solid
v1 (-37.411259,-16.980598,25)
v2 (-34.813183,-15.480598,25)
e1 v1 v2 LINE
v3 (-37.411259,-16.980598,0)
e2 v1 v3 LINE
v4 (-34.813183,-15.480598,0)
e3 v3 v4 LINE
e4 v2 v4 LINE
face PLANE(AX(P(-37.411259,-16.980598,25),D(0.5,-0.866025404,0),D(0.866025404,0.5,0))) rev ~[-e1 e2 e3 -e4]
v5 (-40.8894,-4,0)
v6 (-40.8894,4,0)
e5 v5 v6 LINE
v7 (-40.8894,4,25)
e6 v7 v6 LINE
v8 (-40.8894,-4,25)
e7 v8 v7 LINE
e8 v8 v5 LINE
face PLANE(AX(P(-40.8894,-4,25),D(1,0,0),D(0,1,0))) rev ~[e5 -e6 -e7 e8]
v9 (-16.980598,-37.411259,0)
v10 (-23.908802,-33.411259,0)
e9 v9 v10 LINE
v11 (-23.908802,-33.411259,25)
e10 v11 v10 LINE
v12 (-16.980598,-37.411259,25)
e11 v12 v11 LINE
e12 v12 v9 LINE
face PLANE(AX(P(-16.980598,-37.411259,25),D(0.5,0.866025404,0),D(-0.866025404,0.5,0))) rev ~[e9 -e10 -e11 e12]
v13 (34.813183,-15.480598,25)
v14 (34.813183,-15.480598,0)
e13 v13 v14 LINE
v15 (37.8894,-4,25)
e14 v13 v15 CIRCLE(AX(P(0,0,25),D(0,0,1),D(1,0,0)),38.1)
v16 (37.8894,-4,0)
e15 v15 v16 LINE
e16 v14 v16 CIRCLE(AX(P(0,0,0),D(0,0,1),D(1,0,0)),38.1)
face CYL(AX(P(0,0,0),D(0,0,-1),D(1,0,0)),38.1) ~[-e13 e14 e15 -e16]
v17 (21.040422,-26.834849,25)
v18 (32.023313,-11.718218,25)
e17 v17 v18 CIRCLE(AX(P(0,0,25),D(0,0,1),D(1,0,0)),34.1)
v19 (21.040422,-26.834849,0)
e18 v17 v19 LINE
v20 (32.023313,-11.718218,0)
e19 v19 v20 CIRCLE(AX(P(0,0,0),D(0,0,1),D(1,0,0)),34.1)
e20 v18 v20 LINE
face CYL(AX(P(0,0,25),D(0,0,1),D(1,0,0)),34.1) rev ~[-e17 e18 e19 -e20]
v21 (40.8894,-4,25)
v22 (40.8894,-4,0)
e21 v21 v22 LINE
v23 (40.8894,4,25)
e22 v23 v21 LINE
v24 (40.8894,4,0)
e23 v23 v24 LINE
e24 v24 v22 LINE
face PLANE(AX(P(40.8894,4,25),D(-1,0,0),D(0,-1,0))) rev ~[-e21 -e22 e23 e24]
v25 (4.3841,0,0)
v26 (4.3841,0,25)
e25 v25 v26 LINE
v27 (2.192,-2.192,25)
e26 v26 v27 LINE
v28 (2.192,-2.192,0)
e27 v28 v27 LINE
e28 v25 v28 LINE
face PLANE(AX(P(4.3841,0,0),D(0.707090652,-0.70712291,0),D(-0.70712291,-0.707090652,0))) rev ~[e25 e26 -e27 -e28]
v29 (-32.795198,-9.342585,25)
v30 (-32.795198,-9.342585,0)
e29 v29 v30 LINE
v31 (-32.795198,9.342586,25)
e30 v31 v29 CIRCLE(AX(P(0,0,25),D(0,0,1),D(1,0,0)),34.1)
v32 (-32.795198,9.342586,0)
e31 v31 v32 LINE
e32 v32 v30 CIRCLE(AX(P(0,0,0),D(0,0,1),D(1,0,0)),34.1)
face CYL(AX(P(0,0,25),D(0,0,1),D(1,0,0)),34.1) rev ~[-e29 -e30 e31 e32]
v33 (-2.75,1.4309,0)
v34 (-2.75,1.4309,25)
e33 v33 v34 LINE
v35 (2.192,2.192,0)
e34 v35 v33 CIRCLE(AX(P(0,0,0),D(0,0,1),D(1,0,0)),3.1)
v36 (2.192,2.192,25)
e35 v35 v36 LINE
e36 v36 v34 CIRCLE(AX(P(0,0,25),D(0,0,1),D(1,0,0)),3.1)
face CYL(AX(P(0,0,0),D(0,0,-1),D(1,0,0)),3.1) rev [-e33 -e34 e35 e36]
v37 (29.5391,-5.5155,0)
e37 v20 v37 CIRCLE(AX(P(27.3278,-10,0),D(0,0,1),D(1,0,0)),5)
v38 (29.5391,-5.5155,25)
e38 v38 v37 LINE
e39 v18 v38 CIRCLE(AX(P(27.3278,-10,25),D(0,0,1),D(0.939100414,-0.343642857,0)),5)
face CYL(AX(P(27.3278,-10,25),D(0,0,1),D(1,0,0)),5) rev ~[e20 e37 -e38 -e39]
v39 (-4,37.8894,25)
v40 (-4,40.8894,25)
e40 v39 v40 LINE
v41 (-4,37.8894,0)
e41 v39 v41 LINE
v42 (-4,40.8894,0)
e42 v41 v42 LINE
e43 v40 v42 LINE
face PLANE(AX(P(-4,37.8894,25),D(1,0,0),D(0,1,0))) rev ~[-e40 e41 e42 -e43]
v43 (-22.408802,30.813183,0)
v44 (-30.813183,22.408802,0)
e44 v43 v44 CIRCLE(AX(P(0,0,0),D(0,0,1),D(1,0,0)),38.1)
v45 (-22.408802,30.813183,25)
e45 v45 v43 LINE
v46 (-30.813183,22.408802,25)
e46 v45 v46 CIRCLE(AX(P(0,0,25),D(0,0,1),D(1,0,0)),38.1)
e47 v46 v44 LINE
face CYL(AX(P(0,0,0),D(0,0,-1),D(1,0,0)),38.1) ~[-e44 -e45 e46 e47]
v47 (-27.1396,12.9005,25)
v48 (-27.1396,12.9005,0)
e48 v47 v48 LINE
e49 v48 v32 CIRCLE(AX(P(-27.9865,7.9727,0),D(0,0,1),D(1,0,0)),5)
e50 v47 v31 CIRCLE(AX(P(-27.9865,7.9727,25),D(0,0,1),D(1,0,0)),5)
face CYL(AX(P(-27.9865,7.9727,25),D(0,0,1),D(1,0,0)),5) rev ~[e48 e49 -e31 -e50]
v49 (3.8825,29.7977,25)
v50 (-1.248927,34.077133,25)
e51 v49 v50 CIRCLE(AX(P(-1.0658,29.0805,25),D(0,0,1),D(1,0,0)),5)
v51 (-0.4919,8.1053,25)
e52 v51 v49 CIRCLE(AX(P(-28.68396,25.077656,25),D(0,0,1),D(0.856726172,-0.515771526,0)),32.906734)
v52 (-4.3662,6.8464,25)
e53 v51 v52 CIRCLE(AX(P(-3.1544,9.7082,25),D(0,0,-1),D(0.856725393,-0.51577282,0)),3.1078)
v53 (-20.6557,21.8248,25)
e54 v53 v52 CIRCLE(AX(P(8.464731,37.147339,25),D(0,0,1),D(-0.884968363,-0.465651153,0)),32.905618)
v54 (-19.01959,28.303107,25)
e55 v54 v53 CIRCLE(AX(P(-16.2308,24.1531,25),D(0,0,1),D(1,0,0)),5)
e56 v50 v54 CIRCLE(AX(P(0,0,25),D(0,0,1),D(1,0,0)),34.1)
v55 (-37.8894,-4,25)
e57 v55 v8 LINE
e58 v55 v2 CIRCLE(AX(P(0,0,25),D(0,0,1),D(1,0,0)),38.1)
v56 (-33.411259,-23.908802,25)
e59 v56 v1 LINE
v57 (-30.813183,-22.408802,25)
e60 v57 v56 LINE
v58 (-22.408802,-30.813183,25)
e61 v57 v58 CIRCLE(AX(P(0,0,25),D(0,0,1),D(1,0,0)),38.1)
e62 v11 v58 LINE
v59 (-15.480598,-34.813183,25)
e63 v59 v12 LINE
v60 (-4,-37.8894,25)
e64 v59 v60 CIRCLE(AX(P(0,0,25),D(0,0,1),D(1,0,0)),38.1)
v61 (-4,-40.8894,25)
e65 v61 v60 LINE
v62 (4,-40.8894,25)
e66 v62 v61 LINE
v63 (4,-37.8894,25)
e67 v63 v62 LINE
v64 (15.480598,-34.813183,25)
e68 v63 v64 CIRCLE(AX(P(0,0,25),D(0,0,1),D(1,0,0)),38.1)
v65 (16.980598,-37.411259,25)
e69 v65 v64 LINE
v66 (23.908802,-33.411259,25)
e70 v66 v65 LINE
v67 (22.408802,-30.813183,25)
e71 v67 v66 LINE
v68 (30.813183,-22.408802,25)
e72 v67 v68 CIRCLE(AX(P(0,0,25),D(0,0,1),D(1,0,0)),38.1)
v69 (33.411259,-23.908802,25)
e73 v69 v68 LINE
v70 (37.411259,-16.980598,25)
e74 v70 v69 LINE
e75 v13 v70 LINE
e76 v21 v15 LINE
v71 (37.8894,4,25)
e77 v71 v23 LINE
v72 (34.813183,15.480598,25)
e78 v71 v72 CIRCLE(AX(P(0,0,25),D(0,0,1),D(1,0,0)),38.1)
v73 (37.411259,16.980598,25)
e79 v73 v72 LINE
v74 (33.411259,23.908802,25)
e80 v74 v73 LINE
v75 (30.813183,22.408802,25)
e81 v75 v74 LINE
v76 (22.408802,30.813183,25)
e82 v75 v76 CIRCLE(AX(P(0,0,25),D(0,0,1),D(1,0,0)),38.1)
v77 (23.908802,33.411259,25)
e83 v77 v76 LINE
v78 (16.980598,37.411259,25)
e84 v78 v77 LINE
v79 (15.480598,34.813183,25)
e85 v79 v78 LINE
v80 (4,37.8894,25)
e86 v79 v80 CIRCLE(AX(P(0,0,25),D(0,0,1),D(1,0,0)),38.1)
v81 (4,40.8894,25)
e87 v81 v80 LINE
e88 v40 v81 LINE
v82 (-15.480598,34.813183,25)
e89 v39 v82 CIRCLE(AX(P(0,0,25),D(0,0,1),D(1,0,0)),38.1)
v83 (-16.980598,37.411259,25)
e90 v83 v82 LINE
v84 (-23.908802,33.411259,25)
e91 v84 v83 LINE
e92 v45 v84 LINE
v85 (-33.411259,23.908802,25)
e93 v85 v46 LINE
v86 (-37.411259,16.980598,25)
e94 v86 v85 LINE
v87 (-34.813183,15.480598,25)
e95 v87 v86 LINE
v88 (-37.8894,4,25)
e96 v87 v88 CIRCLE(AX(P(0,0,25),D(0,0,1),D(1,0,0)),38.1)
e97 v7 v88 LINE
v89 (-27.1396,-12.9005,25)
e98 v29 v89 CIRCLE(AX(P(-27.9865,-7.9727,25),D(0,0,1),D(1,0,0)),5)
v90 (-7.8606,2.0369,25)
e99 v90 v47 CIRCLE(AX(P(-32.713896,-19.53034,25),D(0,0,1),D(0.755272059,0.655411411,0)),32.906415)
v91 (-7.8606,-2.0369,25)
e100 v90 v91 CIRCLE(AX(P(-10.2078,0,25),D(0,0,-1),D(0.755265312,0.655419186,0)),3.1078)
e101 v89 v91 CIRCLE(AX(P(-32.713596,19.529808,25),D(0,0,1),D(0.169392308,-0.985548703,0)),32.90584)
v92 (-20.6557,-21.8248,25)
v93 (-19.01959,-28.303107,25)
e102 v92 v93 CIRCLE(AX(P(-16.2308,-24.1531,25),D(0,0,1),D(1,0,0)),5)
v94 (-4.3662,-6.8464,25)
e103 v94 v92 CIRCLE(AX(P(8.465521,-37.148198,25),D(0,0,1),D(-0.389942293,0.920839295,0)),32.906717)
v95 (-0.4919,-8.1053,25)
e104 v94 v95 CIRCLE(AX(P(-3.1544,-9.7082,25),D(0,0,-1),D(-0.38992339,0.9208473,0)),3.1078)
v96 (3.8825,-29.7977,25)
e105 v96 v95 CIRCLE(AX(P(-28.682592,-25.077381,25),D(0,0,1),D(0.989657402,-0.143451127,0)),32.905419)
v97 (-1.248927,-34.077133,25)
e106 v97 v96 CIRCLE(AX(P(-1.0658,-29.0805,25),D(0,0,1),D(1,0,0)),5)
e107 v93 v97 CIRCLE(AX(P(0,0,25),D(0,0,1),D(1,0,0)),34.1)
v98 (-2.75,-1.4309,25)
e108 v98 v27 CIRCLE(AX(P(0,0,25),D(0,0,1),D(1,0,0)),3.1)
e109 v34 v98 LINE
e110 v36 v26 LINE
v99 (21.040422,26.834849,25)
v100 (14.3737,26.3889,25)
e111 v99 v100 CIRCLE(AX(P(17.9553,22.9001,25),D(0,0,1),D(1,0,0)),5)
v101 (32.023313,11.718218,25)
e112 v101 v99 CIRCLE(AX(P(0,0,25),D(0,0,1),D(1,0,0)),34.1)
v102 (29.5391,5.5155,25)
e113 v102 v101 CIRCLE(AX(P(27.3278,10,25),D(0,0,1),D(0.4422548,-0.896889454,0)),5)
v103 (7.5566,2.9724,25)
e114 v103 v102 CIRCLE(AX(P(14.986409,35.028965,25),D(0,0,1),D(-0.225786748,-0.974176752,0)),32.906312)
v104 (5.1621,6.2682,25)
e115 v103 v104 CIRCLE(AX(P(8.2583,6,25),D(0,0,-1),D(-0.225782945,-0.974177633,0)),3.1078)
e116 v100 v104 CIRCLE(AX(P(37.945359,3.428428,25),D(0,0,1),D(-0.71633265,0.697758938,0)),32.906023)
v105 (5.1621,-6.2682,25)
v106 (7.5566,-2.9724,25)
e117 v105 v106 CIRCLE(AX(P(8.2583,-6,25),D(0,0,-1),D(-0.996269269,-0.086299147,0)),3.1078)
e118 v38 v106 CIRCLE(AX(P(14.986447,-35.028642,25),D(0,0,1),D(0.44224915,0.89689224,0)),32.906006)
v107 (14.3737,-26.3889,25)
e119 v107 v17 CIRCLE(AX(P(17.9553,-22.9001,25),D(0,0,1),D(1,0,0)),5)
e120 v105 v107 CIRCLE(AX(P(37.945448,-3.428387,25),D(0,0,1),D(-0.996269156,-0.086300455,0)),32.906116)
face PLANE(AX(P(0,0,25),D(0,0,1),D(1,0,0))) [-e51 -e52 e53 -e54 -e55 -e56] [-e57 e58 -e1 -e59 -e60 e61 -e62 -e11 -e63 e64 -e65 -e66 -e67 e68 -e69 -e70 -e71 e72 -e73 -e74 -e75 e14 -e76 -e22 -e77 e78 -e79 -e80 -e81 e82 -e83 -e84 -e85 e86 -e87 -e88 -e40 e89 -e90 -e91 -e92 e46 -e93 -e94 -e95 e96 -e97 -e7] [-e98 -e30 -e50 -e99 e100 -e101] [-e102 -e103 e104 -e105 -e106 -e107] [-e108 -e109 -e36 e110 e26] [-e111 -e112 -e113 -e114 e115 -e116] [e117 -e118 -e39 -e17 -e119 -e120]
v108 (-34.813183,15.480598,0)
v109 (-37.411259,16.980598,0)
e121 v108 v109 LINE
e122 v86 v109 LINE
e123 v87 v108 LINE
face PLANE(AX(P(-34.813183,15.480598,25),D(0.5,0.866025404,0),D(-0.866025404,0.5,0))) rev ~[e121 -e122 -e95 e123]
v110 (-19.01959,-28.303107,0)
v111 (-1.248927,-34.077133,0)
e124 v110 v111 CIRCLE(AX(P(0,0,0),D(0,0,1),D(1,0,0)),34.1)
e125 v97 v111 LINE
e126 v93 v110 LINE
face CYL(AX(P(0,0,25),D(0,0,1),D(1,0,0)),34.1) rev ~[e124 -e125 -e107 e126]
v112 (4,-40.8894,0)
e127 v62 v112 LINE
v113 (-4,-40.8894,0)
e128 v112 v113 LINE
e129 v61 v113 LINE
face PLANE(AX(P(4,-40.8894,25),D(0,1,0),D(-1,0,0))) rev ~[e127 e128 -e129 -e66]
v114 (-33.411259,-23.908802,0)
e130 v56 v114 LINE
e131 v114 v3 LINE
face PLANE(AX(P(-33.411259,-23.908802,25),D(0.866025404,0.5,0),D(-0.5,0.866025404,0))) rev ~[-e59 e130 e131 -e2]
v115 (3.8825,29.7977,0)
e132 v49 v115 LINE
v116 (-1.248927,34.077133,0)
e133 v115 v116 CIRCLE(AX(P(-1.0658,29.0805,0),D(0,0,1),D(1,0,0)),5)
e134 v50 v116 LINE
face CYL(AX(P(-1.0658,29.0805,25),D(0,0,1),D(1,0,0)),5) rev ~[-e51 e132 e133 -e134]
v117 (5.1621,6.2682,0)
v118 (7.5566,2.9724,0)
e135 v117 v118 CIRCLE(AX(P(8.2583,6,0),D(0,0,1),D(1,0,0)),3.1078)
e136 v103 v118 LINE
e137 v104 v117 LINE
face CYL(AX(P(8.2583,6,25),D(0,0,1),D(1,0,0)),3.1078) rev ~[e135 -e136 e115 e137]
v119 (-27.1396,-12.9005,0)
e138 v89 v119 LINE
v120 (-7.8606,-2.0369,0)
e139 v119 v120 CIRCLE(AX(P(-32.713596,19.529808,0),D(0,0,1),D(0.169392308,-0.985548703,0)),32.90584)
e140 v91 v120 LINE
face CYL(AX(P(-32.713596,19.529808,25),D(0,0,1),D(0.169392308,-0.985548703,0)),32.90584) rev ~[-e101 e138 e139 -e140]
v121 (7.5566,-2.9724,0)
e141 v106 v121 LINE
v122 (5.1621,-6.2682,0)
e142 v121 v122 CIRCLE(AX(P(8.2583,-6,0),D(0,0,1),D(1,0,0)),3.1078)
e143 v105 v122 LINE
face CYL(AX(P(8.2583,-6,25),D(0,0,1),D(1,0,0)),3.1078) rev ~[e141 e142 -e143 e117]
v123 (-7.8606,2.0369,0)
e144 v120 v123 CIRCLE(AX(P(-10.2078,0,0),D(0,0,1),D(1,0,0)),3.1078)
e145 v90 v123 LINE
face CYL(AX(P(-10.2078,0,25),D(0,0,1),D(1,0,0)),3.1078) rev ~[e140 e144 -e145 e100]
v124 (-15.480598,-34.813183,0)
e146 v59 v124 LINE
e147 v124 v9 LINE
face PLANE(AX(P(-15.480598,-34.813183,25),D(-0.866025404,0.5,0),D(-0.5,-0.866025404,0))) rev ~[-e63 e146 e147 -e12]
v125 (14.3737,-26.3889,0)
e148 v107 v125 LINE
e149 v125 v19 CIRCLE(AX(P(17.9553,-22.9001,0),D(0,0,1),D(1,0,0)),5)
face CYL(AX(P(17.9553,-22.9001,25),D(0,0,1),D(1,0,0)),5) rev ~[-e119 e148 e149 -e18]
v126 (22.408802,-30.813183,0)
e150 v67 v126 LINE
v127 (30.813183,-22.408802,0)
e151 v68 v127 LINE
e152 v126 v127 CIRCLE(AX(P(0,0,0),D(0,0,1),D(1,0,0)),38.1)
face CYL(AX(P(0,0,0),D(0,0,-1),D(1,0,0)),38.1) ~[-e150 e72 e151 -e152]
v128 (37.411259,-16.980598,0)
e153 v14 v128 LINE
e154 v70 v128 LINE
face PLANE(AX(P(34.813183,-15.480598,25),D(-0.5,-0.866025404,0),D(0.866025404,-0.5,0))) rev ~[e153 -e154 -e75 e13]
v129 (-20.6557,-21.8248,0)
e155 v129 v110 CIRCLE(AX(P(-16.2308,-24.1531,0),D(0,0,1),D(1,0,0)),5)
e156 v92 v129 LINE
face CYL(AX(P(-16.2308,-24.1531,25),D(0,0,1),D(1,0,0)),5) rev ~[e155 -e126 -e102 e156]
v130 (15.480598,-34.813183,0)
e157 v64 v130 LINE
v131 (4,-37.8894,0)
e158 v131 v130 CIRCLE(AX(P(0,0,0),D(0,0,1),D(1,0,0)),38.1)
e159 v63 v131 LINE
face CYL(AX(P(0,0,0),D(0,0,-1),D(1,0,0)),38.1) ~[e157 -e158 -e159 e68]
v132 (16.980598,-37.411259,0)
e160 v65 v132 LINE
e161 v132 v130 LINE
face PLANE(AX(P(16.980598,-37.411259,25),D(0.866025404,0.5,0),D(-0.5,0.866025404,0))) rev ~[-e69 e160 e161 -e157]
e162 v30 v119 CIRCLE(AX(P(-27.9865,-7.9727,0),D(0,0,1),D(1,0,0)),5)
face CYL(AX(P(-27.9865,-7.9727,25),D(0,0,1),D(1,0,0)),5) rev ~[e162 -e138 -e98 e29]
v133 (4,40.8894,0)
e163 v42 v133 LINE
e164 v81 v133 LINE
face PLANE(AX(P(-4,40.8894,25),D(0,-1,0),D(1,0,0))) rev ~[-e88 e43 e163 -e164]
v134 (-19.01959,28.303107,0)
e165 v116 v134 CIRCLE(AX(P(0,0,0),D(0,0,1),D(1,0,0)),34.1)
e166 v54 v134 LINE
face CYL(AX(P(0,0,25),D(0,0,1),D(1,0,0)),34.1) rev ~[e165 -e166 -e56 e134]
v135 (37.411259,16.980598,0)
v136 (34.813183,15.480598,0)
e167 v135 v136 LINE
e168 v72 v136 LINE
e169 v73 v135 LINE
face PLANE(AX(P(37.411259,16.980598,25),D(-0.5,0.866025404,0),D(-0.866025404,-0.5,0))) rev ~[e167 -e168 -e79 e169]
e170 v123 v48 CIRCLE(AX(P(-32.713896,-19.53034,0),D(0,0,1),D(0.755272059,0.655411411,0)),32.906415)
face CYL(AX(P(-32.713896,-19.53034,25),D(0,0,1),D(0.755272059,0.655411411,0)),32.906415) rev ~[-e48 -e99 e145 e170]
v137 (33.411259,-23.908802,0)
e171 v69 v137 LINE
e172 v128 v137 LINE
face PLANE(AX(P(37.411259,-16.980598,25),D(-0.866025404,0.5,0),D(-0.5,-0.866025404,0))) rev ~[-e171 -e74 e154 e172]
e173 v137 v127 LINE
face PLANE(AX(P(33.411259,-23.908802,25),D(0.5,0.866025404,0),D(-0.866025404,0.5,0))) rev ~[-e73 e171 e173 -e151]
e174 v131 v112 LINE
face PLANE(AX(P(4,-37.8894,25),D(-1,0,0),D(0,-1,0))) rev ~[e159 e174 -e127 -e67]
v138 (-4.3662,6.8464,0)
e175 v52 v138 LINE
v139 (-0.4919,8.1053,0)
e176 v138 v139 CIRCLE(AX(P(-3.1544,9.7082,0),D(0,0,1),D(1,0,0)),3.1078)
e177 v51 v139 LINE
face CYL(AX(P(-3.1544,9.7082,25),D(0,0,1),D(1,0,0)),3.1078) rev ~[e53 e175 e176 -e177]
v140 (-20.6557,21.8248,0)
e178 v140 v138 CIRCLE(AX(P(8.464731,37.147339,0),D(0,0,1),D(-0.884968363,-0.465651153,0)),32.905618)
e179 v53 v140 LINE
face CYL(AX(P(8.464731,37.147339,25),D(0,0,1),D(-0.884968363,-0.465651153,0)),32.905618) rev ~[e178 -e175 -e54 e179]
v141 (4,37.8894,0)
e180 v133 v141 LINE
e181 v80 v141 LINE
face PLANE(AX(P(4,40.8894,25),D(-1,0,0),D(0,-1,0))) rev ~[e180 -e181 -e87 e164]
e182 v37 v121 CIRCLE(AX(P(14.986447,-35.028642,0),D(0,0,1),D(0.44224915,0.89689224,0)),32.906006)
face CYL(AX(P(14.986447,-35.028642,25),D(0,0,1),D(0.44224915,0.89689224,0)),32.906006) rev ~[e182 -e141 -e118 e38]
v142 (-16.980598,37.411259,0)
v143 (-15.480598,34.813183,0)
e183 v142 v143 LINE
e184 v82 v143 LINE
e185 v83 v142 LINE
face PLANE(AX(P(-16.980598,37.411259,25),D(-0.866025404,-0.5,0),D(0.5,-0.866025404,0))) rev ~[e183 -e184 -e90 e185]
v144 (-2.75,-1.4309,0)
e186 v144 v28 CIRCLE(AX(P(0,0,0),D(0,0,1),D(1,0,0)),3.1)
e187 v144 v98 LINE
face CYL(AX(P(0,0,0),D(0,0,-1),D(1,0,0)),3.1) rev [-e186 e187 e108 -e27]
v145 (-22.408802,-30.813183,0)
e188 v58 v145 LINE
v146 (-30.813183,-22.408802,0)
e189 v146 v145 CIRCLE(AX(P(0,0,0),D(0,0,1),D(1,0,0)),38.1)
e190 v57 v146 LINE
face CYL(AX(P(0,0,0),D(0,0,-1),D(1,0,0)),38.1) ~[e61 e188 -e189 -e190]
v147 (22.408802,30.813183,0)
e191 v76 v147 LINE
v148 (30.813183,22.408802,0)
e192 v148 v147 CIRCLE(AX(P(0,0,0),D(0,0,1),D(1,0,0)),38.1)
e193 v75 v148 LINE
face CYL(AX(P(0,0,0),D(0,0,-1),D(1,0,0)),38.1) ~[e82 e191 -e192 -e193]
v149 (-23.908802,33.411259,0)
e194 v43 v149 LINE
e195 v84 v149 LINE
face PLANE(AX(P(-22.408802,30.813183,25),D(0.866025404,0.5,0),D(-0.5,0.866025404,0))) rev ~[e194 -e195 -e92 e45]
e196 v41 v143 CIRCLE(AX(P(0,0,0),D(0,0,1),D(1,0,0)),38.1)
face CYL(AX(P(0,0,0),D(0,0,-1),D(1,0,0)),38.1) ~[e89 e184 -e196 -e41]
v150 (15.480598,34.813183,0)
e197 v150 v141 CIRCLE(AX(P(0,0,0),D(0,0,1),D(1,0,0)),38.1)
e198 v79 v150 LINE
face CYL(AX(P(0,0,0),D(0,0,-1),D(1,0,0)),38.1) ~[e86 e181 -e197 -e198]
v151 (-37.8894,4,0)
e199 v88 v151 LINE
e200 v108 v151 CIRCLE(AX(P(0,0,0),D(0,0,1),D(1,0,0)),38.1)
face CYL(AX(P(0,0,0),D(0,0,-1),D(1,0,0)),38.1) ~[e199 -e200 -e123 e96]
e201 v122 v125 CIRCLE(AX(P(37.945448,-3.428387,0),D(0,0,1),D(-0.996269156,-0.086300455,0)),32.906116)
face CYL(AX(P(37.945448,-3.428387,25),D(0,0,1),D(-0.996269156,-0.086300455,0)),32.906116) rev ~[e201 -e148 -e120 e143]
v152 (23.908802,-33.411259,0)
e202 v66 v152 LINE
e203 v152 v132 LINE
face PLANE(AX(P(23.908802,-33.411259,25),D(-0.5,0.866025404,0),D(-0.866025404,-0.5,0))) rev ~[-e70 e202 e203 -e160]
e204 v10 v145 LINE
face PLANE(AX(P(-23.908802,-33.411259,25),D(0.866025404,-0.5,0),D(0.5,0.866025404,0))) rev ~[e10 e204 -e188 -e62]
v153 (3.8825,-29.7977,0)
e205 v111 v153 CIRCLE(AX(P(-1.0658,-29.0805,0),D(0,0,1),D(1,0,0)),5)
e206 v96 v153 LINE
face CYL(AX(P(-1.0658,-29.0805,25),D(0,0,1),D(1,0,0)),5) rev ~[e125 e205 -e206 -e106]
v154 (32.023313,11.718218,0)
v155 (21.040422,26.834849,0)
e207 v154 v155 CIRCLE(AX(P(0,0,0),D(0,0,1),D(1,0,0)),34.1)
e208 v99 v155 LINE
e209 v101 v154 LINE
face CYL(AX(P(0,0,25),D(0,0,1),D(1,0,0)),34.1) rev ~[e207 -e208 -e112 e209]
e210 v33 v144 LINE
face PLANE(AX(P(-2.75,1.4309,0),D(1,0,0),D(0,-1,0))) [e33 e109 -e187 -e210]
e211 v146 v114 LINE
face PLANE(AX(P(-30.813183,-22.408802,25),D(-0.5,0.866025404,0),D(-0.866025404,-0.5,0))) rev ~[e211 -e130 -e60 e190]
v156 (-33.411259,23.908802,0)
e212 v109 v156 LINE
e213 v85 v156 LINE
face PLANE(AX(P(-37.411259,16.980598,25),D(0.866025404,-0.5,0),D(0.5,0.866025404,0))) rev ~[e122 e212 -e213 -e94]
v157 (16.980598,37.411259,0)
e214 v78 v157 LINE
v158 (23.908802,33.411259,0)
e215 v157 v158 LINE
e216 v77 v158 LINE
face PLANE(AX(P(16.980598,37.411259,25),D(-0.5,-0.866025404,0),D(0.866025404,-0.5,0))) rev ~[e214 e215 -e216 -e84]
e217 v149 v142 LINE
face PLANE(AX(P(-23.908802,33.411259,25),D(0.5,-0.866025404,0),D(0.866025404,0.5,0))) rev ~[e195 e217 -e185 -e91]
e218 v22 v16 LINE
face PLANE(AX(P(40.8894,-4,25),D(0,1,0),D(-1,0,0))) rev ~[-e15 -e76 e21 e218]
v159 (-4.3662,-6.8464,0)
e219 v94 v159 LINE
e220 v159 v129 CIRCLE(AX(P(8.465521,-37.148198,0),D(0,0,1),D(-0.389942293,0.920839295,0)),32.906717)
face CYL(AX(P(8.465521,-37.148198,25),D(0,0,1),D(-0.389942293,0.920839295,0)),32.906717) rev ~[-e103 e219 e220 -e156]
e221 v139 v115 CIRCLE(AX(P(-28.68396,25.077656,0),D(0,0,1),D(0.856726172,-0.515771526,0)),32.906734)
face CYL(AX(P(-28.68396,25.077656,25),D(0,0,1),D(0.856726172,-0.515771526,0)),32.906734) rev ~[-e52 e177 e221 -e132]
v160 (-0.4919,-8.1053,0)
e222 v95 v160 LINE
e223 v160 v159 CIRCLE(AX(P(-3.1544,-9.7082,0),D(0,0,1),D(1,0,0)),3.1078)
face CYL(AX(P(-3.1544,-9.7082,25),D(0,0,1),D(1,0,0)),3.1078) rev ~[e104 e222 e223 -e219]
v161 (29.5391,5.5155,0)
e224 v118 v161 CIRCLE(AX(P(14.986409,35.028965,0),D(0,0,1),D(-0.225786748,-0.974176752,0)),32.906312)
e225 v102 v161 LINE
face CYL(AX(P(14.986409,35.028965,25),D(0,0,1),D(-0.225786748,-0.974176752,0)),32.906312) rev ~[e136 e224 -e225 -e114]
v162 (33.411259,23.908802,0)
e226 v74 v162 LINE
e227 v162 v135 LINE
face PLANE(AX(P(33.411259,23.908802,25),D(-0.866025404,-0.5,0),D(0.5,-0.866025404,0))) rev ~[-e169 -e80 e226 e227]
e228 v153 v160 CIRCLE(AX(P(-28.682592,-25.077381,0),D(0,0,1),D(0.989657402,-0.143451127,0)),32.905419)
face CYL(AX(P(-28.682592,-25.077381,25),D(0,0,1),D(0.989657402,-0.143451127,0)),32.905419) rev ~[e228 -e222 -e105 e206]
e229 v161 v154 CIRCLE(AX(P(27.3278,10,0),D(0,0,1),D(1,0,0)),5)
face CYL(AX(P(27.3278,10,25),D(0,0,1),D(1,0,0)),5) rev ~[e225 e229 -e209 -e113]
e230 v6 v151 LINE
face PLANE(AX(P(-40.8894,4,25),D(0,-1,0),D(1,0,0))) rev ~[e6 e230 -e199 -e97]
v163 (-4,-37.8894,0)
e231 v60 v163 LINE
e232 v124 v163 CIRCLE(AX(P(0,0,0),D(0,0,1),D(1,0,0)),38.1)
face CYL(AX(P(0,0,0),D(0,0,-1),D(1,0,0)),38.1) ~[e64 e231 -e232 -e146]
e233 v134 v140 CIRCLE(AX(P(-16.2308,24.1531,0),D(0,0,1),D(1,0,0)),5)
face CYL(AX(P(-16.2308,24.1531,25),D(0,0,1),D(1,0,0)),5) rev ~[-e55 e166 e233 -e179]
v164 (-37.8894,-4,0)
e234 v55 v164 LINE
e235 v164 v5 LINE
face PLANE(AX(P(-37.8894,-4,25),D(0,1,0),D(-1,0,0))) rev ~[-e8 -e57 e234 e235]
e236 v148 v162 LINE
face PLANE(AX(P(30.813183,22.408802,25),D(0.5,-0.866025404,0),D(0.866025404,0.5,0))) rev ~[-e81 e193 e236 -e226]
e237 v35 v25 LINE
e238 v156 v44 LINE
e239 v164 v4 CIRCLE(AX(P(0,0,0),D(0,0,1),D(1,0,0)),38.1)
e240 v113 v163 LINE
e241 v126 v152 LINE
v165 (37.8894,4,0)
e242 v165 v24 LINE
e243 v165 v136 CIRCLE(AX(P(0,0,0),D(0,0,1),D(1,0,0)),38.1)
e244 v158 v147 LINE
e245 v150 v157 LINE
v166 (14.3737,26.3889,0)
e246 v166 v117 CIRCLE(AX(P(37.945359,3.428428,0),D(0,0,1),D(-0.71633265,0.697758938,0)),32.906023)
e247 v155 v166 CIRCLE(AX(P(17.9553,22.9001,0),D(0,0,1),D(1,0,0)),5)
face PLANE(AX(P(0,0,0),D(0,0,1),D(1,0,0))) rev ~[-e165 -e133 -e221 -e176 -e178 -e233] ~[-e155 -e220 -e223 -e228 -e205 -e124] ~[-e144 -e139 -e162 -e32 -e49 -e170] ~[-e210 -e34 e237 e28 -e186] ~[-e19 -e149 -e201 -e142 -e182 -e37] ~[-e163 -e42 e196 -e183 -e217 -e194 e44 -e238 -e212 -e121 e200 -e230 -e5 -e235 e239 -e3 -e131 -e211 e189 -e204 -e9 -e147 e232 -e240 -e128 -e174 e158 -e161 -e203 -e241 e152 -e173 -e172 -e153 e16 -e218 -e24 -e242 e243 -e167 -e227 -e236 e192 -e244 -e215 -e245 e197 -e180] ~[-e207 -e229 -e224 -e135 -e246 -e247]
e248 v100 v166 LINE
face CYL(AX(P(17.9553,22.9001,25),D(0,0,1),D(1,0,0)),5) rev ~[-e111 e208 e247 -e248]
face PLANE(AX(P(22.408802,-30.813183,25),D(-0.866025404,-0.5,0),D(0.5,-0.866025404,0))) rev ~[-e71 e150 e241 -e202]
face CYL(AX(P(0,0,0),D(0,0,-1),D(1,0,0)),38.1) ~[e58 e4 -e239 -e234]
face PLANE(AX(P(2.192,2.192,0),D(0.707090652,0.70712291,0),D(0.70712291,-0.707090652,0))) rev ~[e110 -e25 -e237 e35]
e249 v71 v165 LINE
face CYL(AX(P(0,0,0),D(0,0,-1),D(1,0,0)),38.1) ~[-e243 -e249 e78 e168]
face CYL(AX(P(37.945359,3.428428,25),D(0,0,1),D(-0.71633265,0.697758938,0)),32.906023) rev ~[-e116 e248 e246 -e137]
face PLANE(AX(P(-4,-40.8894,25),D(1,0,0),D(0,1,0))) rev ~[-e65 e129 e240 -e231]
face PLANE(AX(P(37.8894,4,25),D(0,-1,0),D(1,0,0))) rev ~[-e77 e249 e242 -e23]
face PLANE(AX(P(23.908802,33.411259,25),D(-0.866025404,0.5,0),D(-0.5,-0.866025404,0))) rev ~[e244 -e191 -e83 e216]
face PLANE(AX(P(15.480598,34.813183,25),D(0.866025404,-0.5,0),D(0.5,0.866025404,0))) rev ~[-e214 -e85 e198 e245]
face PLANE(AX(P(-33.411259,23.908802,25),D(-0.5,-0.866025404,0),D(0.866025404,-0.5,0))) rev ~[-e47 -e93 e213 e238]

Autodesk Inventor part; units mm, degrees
ref_plane "YZ Plane" through (0, 0, 0) normal (1, 0, 0) x (0, 1, 0)
ref_plane "XZ Plane" through (0, 0, 0) normal (0, 1, 0) x (-1, 0, 0)
ref_plane "XY Plane" through (0, 0, 0) normal (0, 0, 1) x (1, 0, 0)
sketch "Sketch1" plane through (0, 0, 0) normal (0, 0, 1) x (1, 0, 0)
  circle A0 centre (0, 0) radius 38.1
  circle A1 centre (0, 0) radius 3.1
  line L0 (-2.75, 1.4309) -> (-2.75, -1.4309)
  line L1 (2.192, 2.192) -> (4.3841, 0)
  line L2 (4.3841, 0) -> (2.192, -2.192)
  dimension "d0" = 76.2
  dimension "d1" = 6.2
  dimension "d2" = 2.75
extrude "Extrusion1" add sketch "Sketch1" along normal blind 25 contours A0 | L0 A1 picked at (-2.8371, 0.2455)
sketch "Sketch3" plane through (0, 0, 25) normal (0, 0, 1) x (1, 0, 0)
  circle A0 centre (0, 0) radius 38.1 projected
  line L0 (4.3841, 0) -> (2.192, -2.192) projected
  arc A1 (-2.75, -1.4309) -> (2.192, -2.192) centre (0, 0) ccw projected
  line L1 (-2.75, -1.4309) -> (-2.75, 1.4309) projected
  arc A2 (2.192, 2.192) -> (-2.75, 1.4309) centre (0, 0) ccw projected
  line L2 (2.192, 2.192) -> (4.3841, 0) projected
  line L3 (0, 0) -> (38.1, 0) construction
  circle A3 centre (0, 0) radius 7.1
  circle A4 centre (0, 0) radius 34.1
  circle A5 centre (0, 0) radius 3.1 construction
  circle A6 centre (27.3278, 10) radius 5
  circle A7 centre (27.3278, -10) radius 5
  line L4 (27.3278, 10) -> (27.3278, 0) construction
  line L5 (27.3278, -10) -> (27.3278, 0) construction
  circle A8 centre (8.2583, 6) radius 3.1078
  circle A9 centre (8.2583, -6) radius 3.1078
  line L6 (8.2583, 6) -> (8.2583, 0) construction
  line L7 (8.2583, -6) -> (8.2583, 0) construction
  arc A10 (7.5566, 2.9724) -> (29.5391, 5.5155) centre (14.9864, 35.0288) ccw
  arc A11 (29.5391, -5.5155) -> (7.5566, -2.9724) centre (14.9864, -35.0288) ccw
  circle A12 centre (17.9553, 22.9001) radius 5
  arc A13 (14.3737, 26.3889) -> (5.1621, 6.2682) centre (37.9454, 3.4284) ccw
  circle A14 centre (-1.0658, 29.0805) radius 5
  circle A15 centre (-16.2308, 24.1531) radius 5
  circle A16 centre (-27.9865, 7.9727) radius 5
  circle A17 centre (-27.9865, -7.9727) radius 5
  circle A18 centre (-16.2308, -24.1531) radius 5
  circle A19 centre (17.9553, -22.9001) radius 5
  circle A20 centre (-1.0658, -29.0805) radius 5
  circle A21 centre (-3.1544, 9.7082) radius 3.1078
  circle A22 centre (-10.2078, 0) radius 3.1078
  circle A23 centre (-3.1544, -9.7082) radius 3.1078
  arc A24 (-0.4919, 8.1053) -> (3.8825, 29.7977) centre (-28.6833, 25.0774) ccw
  arc A25 (5.1621, -6.2682) -> (14.3737, -26.3889) centre (37.9454, -3.4284) ccw
  arc A26 (3.8825, -29.7977) -> (-0.4919, -8.1053) centre (-28.6833, -25.0774) ccw
  arc A27 (-4.3662, -6.8464) -> (-20.6557, -21.8248) centre (8.4652, -37.1477) ccw
  arc A28 (-20.6557, 21.8248) -> (-4.3662, 6.8464) centre (8.4652, 37.1477) ccw
  arc A29 (-7.8606, 2.0369) -> (-27.1396, 12.9005) centre (-32.7137, -19.5301) ccw
  arc A30 (-27.1396, -12.9005) -> (-7.8606, -2.0369) centre (-32.7137, 19.5301) ccw
  line L8 (8.2583, 6) -> (-3.1544, 9.7082) construction
  line L9 (-3.1544, 9.7082) -> (-10.2078, 0) construction
  line L10 (-10.2078, 0) -> (-3.1544, -9.7082) construction
  line L11 (-3.1544, -9.7082) -> (8.2583, -6) construction
  line L12 (17.9553, 22.9001) -> (-1.0658, 29.0805) construction
  line L13 (-16.2308, 24.1531) -> (-27.9865, 7.9727) construction
  line L14 (-27.9865, -7.9727) -> (-16.2308, -24.1531) construction
  line L15 (-1.0658, -29.0805) -> (17.9553, -22.9001) construction
  point P0 (21.0404, -26.8349)
  point P1 (32.0233, -11.7182)
  point P2 (-19.0196, -28.3031)
  point P3 (-1.2489, -34.0771)
  point P4 (-32.7952, 9.3426)
  point P5 (-32.7952, -9.3426)
  point P6 (-1.2489, 34.0771)
  point P7 (-19.0196, 28.3031)
  point P8 (32.0233, 11.7182)
  point P9 (21.0404, 26.8349)
  dimension "d32" = 10
  dimension "d25" = 4
  dimension "d26" = 4
  dimension "d29" = 10
  dimension "d30" = 6
  dimension "d31" = 12
extrude "Extrusion4" cut sketch "Sketch3" against normal through all contours A8 | A9 | A21 | A13 A12 A4 A6 A10 A8 | A23 | A11 A7 A4 A19 A25 A9 | A22 | A28 A15 A4 A14 A24 A21 | A12 | A6 | A26 A20 A4 A18 A27 A23 | A7 | A19 | A22 A30 A17 A4 A16 A29 | A15 | A14 | A20 | A18 | A16 | A17
sketch "Sketch4" plane through (0, 0, 25) normal (0, 0, 1) x (1, 0, 0)
  arc A0 (-27.1396, 12.9005) -> (-32.7952, 9.3426) centre (-27.9865, 7.9727) ccw projected
  arc A1 (-7.8606, 2.0369) -> (-27.1396, 12.9005) centre (-32.7137, -19.5301) ccw projected
  arc A2 (-7.8606, -2.0369) -> (-7.8606, 2.0369) centre (-10.2078, 0) ccw projected
  arc A3 (-27.1396, -12.9005) -> (-7.8606, -2.0369) centre (-32.7137, 19.5301) ccw projected
  arc A4 (-32.7952, -9.3426) -> (-27.1396, -12.9005) centre (-27.9865, -7.9727) ccw projected
  arc A5 (-32.7952, 9.3426) -> (-32.7952, -9.3426) centre (0, 0) ccw projected
  arc A6 (3.8825, -29.7977) -> (-0.4919, -8.1053) centre (-28.6833, -25.0774) ccw projected
  arc A7 (-1.2489, -34.0771) -> (3.8825, -29.7977) centre (-1.0658, -29.0805) ccw projected
  arc A8 (-19.0196, -28.3031) -> (-1.2489, -34.0771) centre (0, 0) ccw projected
  arc A9 (-20.6557, -21.8248) -> (-19.0196, -28.3031) centre (-16.2308, -24.1531) ccw projected
  arc A10 (-4.3662, -6.8464) -> (-20.6557, -21.8248) centre (8.4652, -37.1477) ccw projected
  arc A11 (-0.4919, -8.1053) -> (-4.3662, -6.8464) centre (-3.1544, -9.7082) ccw projected
  arc A12 (-20.6557, 21.8248) -> (-4.3662, 6.8464) centre (8.4652, 37.1477) ccw projected
  arc A13 (-19.0196, 28.3031) -> (-20.6557, 21.8248) centre (-16.2308, 24.1531) ccw projected
  arc A14 (-1.2489, 34.0771) -> (-19.0196, 28.3031) centre (0, 0) ccw projected
  arc A15 (3.8825, 29.7977) -> (-1.2489, 34.0771) centre (-1.0658, 29.0805) ccw projected
  arc A16 (-0.4919, 8.1053) -> (3.8825, 29.7977) centre (-28.6833, 25.0774) ccw projected
  arc A17 (-4.3662, 6.8464) -> (-0.4919, 8.1053) centre (-3.1544, 9.7082) ccw projected
  arc A18 (29.5391, -5.5155) -> (7.5566, -2.9724) centre (14.9864, -35.0288) ccw projected
  arc A19 (32.0233, -11.7182) -> (29.5391, -5.5155) centre (27.3278, -10) ccw projected
  arc A20 (21.0404, -26.8349) -> (32.0233, -11.7182) centre (0, 0) ccw projected
  arc A21 (14.3737, -26.3889) -> (21.0404, -26.8349) centre (17.9553, -22.9001) ccw projected
  arc A22 (5.1621, -6.2682) -> (14.3737, -26.3889) centre (37.9454, -3.4284) ccw projected
  arc A23 (7.5566, -2.9724) -> (5.1621, -6.2682) centre (8.2583, -6) ccw projected
  arc A24 (7.5566, 2.9724) -> (29.5391, 5.5155) centre (14.9864, 35.0288) ccw projected
  arc A25 (5.1621, 6.2682) -> (7.5566, 2.9724) centre (8.2583, 6) ccw projected
  arc A26 (14.3737, 26.3889) -> (5.1621, 6.2682) centre (37.9454, 3.4284) ccw projected
  arc A27 (21.0404, 26.8349) -> (14.3737, 26.3889) centre (17.9553, 22.9001) ccw projected
  arc A28 (32.0233, 11.7182) -> (21.0404, 26.8349) centre (0, 0) ccw projected
  arc A29 (29.5391, 5.5155) -> (32.0233, 11.7182) centre (27.3278, 10) ccw projected
  circle A30 centre (0, 0) radius 38.1 projected
  line L0 (4.3841, 0) -> (2.192, -2.192) projected
  arc A31 (-2.75, -1.4309) -> (2.192, -2.192) centre (0, 0) ccw projected
  line L1 (-2.75, -1.4309) -> (-2.75, 1.4309) projected
  arc A32 (2.192, 2.192) -> (-2.75, 1.4309) centre (0, 0) ccw projected
  line L2 (2.192, 2.192) -> (4.3841, 0) projected
  line L3 (37.8894, 4) -> (40.8894, 4)
  line L4 (40.8894, 4) -> (40.8894, -4)
  line L5 (40.8894, -4) -> (37.8894, -4)
  line L6 (37.8894, -4) -> (37.8894, 4)
  circle A33 centre (0, 0) radius 38.1 projected
  point P0 (40.8894, 0)
  dimension "d41" = 8
  dimension "d42" = 3
extrude "Extrusion5" add sketch "Sketch4" against normal up to surface (25 mm away) contours A30 L3 L4 L5
pattern_circular "Circular Pattern2" count 12 over 360 about axis through (0, 0, 0) along (0, 0, 1) of "Extrusion5"
equation "\"d0\" = Wheel_Diameter"
equation "\"d1\" = Axel_Diamter"
equation "\"d2\" = Axel_Cuttout_Dist"
equation "\"d3\" = Wheel_Thickness"
equation "\"Wheel_Diameter\" = 76.2"
equation "\"Axel_Diamter\" = 6.2"
equation "\"Axel_Cuttout_Dist\" = 2.75"
equation "\"Wheel_Thickness\" = 25"
equation "\"Tread_Height\" = 3"
equation "\"Tread_Width\" = 8"
properties part number "Drive_Wheel"
